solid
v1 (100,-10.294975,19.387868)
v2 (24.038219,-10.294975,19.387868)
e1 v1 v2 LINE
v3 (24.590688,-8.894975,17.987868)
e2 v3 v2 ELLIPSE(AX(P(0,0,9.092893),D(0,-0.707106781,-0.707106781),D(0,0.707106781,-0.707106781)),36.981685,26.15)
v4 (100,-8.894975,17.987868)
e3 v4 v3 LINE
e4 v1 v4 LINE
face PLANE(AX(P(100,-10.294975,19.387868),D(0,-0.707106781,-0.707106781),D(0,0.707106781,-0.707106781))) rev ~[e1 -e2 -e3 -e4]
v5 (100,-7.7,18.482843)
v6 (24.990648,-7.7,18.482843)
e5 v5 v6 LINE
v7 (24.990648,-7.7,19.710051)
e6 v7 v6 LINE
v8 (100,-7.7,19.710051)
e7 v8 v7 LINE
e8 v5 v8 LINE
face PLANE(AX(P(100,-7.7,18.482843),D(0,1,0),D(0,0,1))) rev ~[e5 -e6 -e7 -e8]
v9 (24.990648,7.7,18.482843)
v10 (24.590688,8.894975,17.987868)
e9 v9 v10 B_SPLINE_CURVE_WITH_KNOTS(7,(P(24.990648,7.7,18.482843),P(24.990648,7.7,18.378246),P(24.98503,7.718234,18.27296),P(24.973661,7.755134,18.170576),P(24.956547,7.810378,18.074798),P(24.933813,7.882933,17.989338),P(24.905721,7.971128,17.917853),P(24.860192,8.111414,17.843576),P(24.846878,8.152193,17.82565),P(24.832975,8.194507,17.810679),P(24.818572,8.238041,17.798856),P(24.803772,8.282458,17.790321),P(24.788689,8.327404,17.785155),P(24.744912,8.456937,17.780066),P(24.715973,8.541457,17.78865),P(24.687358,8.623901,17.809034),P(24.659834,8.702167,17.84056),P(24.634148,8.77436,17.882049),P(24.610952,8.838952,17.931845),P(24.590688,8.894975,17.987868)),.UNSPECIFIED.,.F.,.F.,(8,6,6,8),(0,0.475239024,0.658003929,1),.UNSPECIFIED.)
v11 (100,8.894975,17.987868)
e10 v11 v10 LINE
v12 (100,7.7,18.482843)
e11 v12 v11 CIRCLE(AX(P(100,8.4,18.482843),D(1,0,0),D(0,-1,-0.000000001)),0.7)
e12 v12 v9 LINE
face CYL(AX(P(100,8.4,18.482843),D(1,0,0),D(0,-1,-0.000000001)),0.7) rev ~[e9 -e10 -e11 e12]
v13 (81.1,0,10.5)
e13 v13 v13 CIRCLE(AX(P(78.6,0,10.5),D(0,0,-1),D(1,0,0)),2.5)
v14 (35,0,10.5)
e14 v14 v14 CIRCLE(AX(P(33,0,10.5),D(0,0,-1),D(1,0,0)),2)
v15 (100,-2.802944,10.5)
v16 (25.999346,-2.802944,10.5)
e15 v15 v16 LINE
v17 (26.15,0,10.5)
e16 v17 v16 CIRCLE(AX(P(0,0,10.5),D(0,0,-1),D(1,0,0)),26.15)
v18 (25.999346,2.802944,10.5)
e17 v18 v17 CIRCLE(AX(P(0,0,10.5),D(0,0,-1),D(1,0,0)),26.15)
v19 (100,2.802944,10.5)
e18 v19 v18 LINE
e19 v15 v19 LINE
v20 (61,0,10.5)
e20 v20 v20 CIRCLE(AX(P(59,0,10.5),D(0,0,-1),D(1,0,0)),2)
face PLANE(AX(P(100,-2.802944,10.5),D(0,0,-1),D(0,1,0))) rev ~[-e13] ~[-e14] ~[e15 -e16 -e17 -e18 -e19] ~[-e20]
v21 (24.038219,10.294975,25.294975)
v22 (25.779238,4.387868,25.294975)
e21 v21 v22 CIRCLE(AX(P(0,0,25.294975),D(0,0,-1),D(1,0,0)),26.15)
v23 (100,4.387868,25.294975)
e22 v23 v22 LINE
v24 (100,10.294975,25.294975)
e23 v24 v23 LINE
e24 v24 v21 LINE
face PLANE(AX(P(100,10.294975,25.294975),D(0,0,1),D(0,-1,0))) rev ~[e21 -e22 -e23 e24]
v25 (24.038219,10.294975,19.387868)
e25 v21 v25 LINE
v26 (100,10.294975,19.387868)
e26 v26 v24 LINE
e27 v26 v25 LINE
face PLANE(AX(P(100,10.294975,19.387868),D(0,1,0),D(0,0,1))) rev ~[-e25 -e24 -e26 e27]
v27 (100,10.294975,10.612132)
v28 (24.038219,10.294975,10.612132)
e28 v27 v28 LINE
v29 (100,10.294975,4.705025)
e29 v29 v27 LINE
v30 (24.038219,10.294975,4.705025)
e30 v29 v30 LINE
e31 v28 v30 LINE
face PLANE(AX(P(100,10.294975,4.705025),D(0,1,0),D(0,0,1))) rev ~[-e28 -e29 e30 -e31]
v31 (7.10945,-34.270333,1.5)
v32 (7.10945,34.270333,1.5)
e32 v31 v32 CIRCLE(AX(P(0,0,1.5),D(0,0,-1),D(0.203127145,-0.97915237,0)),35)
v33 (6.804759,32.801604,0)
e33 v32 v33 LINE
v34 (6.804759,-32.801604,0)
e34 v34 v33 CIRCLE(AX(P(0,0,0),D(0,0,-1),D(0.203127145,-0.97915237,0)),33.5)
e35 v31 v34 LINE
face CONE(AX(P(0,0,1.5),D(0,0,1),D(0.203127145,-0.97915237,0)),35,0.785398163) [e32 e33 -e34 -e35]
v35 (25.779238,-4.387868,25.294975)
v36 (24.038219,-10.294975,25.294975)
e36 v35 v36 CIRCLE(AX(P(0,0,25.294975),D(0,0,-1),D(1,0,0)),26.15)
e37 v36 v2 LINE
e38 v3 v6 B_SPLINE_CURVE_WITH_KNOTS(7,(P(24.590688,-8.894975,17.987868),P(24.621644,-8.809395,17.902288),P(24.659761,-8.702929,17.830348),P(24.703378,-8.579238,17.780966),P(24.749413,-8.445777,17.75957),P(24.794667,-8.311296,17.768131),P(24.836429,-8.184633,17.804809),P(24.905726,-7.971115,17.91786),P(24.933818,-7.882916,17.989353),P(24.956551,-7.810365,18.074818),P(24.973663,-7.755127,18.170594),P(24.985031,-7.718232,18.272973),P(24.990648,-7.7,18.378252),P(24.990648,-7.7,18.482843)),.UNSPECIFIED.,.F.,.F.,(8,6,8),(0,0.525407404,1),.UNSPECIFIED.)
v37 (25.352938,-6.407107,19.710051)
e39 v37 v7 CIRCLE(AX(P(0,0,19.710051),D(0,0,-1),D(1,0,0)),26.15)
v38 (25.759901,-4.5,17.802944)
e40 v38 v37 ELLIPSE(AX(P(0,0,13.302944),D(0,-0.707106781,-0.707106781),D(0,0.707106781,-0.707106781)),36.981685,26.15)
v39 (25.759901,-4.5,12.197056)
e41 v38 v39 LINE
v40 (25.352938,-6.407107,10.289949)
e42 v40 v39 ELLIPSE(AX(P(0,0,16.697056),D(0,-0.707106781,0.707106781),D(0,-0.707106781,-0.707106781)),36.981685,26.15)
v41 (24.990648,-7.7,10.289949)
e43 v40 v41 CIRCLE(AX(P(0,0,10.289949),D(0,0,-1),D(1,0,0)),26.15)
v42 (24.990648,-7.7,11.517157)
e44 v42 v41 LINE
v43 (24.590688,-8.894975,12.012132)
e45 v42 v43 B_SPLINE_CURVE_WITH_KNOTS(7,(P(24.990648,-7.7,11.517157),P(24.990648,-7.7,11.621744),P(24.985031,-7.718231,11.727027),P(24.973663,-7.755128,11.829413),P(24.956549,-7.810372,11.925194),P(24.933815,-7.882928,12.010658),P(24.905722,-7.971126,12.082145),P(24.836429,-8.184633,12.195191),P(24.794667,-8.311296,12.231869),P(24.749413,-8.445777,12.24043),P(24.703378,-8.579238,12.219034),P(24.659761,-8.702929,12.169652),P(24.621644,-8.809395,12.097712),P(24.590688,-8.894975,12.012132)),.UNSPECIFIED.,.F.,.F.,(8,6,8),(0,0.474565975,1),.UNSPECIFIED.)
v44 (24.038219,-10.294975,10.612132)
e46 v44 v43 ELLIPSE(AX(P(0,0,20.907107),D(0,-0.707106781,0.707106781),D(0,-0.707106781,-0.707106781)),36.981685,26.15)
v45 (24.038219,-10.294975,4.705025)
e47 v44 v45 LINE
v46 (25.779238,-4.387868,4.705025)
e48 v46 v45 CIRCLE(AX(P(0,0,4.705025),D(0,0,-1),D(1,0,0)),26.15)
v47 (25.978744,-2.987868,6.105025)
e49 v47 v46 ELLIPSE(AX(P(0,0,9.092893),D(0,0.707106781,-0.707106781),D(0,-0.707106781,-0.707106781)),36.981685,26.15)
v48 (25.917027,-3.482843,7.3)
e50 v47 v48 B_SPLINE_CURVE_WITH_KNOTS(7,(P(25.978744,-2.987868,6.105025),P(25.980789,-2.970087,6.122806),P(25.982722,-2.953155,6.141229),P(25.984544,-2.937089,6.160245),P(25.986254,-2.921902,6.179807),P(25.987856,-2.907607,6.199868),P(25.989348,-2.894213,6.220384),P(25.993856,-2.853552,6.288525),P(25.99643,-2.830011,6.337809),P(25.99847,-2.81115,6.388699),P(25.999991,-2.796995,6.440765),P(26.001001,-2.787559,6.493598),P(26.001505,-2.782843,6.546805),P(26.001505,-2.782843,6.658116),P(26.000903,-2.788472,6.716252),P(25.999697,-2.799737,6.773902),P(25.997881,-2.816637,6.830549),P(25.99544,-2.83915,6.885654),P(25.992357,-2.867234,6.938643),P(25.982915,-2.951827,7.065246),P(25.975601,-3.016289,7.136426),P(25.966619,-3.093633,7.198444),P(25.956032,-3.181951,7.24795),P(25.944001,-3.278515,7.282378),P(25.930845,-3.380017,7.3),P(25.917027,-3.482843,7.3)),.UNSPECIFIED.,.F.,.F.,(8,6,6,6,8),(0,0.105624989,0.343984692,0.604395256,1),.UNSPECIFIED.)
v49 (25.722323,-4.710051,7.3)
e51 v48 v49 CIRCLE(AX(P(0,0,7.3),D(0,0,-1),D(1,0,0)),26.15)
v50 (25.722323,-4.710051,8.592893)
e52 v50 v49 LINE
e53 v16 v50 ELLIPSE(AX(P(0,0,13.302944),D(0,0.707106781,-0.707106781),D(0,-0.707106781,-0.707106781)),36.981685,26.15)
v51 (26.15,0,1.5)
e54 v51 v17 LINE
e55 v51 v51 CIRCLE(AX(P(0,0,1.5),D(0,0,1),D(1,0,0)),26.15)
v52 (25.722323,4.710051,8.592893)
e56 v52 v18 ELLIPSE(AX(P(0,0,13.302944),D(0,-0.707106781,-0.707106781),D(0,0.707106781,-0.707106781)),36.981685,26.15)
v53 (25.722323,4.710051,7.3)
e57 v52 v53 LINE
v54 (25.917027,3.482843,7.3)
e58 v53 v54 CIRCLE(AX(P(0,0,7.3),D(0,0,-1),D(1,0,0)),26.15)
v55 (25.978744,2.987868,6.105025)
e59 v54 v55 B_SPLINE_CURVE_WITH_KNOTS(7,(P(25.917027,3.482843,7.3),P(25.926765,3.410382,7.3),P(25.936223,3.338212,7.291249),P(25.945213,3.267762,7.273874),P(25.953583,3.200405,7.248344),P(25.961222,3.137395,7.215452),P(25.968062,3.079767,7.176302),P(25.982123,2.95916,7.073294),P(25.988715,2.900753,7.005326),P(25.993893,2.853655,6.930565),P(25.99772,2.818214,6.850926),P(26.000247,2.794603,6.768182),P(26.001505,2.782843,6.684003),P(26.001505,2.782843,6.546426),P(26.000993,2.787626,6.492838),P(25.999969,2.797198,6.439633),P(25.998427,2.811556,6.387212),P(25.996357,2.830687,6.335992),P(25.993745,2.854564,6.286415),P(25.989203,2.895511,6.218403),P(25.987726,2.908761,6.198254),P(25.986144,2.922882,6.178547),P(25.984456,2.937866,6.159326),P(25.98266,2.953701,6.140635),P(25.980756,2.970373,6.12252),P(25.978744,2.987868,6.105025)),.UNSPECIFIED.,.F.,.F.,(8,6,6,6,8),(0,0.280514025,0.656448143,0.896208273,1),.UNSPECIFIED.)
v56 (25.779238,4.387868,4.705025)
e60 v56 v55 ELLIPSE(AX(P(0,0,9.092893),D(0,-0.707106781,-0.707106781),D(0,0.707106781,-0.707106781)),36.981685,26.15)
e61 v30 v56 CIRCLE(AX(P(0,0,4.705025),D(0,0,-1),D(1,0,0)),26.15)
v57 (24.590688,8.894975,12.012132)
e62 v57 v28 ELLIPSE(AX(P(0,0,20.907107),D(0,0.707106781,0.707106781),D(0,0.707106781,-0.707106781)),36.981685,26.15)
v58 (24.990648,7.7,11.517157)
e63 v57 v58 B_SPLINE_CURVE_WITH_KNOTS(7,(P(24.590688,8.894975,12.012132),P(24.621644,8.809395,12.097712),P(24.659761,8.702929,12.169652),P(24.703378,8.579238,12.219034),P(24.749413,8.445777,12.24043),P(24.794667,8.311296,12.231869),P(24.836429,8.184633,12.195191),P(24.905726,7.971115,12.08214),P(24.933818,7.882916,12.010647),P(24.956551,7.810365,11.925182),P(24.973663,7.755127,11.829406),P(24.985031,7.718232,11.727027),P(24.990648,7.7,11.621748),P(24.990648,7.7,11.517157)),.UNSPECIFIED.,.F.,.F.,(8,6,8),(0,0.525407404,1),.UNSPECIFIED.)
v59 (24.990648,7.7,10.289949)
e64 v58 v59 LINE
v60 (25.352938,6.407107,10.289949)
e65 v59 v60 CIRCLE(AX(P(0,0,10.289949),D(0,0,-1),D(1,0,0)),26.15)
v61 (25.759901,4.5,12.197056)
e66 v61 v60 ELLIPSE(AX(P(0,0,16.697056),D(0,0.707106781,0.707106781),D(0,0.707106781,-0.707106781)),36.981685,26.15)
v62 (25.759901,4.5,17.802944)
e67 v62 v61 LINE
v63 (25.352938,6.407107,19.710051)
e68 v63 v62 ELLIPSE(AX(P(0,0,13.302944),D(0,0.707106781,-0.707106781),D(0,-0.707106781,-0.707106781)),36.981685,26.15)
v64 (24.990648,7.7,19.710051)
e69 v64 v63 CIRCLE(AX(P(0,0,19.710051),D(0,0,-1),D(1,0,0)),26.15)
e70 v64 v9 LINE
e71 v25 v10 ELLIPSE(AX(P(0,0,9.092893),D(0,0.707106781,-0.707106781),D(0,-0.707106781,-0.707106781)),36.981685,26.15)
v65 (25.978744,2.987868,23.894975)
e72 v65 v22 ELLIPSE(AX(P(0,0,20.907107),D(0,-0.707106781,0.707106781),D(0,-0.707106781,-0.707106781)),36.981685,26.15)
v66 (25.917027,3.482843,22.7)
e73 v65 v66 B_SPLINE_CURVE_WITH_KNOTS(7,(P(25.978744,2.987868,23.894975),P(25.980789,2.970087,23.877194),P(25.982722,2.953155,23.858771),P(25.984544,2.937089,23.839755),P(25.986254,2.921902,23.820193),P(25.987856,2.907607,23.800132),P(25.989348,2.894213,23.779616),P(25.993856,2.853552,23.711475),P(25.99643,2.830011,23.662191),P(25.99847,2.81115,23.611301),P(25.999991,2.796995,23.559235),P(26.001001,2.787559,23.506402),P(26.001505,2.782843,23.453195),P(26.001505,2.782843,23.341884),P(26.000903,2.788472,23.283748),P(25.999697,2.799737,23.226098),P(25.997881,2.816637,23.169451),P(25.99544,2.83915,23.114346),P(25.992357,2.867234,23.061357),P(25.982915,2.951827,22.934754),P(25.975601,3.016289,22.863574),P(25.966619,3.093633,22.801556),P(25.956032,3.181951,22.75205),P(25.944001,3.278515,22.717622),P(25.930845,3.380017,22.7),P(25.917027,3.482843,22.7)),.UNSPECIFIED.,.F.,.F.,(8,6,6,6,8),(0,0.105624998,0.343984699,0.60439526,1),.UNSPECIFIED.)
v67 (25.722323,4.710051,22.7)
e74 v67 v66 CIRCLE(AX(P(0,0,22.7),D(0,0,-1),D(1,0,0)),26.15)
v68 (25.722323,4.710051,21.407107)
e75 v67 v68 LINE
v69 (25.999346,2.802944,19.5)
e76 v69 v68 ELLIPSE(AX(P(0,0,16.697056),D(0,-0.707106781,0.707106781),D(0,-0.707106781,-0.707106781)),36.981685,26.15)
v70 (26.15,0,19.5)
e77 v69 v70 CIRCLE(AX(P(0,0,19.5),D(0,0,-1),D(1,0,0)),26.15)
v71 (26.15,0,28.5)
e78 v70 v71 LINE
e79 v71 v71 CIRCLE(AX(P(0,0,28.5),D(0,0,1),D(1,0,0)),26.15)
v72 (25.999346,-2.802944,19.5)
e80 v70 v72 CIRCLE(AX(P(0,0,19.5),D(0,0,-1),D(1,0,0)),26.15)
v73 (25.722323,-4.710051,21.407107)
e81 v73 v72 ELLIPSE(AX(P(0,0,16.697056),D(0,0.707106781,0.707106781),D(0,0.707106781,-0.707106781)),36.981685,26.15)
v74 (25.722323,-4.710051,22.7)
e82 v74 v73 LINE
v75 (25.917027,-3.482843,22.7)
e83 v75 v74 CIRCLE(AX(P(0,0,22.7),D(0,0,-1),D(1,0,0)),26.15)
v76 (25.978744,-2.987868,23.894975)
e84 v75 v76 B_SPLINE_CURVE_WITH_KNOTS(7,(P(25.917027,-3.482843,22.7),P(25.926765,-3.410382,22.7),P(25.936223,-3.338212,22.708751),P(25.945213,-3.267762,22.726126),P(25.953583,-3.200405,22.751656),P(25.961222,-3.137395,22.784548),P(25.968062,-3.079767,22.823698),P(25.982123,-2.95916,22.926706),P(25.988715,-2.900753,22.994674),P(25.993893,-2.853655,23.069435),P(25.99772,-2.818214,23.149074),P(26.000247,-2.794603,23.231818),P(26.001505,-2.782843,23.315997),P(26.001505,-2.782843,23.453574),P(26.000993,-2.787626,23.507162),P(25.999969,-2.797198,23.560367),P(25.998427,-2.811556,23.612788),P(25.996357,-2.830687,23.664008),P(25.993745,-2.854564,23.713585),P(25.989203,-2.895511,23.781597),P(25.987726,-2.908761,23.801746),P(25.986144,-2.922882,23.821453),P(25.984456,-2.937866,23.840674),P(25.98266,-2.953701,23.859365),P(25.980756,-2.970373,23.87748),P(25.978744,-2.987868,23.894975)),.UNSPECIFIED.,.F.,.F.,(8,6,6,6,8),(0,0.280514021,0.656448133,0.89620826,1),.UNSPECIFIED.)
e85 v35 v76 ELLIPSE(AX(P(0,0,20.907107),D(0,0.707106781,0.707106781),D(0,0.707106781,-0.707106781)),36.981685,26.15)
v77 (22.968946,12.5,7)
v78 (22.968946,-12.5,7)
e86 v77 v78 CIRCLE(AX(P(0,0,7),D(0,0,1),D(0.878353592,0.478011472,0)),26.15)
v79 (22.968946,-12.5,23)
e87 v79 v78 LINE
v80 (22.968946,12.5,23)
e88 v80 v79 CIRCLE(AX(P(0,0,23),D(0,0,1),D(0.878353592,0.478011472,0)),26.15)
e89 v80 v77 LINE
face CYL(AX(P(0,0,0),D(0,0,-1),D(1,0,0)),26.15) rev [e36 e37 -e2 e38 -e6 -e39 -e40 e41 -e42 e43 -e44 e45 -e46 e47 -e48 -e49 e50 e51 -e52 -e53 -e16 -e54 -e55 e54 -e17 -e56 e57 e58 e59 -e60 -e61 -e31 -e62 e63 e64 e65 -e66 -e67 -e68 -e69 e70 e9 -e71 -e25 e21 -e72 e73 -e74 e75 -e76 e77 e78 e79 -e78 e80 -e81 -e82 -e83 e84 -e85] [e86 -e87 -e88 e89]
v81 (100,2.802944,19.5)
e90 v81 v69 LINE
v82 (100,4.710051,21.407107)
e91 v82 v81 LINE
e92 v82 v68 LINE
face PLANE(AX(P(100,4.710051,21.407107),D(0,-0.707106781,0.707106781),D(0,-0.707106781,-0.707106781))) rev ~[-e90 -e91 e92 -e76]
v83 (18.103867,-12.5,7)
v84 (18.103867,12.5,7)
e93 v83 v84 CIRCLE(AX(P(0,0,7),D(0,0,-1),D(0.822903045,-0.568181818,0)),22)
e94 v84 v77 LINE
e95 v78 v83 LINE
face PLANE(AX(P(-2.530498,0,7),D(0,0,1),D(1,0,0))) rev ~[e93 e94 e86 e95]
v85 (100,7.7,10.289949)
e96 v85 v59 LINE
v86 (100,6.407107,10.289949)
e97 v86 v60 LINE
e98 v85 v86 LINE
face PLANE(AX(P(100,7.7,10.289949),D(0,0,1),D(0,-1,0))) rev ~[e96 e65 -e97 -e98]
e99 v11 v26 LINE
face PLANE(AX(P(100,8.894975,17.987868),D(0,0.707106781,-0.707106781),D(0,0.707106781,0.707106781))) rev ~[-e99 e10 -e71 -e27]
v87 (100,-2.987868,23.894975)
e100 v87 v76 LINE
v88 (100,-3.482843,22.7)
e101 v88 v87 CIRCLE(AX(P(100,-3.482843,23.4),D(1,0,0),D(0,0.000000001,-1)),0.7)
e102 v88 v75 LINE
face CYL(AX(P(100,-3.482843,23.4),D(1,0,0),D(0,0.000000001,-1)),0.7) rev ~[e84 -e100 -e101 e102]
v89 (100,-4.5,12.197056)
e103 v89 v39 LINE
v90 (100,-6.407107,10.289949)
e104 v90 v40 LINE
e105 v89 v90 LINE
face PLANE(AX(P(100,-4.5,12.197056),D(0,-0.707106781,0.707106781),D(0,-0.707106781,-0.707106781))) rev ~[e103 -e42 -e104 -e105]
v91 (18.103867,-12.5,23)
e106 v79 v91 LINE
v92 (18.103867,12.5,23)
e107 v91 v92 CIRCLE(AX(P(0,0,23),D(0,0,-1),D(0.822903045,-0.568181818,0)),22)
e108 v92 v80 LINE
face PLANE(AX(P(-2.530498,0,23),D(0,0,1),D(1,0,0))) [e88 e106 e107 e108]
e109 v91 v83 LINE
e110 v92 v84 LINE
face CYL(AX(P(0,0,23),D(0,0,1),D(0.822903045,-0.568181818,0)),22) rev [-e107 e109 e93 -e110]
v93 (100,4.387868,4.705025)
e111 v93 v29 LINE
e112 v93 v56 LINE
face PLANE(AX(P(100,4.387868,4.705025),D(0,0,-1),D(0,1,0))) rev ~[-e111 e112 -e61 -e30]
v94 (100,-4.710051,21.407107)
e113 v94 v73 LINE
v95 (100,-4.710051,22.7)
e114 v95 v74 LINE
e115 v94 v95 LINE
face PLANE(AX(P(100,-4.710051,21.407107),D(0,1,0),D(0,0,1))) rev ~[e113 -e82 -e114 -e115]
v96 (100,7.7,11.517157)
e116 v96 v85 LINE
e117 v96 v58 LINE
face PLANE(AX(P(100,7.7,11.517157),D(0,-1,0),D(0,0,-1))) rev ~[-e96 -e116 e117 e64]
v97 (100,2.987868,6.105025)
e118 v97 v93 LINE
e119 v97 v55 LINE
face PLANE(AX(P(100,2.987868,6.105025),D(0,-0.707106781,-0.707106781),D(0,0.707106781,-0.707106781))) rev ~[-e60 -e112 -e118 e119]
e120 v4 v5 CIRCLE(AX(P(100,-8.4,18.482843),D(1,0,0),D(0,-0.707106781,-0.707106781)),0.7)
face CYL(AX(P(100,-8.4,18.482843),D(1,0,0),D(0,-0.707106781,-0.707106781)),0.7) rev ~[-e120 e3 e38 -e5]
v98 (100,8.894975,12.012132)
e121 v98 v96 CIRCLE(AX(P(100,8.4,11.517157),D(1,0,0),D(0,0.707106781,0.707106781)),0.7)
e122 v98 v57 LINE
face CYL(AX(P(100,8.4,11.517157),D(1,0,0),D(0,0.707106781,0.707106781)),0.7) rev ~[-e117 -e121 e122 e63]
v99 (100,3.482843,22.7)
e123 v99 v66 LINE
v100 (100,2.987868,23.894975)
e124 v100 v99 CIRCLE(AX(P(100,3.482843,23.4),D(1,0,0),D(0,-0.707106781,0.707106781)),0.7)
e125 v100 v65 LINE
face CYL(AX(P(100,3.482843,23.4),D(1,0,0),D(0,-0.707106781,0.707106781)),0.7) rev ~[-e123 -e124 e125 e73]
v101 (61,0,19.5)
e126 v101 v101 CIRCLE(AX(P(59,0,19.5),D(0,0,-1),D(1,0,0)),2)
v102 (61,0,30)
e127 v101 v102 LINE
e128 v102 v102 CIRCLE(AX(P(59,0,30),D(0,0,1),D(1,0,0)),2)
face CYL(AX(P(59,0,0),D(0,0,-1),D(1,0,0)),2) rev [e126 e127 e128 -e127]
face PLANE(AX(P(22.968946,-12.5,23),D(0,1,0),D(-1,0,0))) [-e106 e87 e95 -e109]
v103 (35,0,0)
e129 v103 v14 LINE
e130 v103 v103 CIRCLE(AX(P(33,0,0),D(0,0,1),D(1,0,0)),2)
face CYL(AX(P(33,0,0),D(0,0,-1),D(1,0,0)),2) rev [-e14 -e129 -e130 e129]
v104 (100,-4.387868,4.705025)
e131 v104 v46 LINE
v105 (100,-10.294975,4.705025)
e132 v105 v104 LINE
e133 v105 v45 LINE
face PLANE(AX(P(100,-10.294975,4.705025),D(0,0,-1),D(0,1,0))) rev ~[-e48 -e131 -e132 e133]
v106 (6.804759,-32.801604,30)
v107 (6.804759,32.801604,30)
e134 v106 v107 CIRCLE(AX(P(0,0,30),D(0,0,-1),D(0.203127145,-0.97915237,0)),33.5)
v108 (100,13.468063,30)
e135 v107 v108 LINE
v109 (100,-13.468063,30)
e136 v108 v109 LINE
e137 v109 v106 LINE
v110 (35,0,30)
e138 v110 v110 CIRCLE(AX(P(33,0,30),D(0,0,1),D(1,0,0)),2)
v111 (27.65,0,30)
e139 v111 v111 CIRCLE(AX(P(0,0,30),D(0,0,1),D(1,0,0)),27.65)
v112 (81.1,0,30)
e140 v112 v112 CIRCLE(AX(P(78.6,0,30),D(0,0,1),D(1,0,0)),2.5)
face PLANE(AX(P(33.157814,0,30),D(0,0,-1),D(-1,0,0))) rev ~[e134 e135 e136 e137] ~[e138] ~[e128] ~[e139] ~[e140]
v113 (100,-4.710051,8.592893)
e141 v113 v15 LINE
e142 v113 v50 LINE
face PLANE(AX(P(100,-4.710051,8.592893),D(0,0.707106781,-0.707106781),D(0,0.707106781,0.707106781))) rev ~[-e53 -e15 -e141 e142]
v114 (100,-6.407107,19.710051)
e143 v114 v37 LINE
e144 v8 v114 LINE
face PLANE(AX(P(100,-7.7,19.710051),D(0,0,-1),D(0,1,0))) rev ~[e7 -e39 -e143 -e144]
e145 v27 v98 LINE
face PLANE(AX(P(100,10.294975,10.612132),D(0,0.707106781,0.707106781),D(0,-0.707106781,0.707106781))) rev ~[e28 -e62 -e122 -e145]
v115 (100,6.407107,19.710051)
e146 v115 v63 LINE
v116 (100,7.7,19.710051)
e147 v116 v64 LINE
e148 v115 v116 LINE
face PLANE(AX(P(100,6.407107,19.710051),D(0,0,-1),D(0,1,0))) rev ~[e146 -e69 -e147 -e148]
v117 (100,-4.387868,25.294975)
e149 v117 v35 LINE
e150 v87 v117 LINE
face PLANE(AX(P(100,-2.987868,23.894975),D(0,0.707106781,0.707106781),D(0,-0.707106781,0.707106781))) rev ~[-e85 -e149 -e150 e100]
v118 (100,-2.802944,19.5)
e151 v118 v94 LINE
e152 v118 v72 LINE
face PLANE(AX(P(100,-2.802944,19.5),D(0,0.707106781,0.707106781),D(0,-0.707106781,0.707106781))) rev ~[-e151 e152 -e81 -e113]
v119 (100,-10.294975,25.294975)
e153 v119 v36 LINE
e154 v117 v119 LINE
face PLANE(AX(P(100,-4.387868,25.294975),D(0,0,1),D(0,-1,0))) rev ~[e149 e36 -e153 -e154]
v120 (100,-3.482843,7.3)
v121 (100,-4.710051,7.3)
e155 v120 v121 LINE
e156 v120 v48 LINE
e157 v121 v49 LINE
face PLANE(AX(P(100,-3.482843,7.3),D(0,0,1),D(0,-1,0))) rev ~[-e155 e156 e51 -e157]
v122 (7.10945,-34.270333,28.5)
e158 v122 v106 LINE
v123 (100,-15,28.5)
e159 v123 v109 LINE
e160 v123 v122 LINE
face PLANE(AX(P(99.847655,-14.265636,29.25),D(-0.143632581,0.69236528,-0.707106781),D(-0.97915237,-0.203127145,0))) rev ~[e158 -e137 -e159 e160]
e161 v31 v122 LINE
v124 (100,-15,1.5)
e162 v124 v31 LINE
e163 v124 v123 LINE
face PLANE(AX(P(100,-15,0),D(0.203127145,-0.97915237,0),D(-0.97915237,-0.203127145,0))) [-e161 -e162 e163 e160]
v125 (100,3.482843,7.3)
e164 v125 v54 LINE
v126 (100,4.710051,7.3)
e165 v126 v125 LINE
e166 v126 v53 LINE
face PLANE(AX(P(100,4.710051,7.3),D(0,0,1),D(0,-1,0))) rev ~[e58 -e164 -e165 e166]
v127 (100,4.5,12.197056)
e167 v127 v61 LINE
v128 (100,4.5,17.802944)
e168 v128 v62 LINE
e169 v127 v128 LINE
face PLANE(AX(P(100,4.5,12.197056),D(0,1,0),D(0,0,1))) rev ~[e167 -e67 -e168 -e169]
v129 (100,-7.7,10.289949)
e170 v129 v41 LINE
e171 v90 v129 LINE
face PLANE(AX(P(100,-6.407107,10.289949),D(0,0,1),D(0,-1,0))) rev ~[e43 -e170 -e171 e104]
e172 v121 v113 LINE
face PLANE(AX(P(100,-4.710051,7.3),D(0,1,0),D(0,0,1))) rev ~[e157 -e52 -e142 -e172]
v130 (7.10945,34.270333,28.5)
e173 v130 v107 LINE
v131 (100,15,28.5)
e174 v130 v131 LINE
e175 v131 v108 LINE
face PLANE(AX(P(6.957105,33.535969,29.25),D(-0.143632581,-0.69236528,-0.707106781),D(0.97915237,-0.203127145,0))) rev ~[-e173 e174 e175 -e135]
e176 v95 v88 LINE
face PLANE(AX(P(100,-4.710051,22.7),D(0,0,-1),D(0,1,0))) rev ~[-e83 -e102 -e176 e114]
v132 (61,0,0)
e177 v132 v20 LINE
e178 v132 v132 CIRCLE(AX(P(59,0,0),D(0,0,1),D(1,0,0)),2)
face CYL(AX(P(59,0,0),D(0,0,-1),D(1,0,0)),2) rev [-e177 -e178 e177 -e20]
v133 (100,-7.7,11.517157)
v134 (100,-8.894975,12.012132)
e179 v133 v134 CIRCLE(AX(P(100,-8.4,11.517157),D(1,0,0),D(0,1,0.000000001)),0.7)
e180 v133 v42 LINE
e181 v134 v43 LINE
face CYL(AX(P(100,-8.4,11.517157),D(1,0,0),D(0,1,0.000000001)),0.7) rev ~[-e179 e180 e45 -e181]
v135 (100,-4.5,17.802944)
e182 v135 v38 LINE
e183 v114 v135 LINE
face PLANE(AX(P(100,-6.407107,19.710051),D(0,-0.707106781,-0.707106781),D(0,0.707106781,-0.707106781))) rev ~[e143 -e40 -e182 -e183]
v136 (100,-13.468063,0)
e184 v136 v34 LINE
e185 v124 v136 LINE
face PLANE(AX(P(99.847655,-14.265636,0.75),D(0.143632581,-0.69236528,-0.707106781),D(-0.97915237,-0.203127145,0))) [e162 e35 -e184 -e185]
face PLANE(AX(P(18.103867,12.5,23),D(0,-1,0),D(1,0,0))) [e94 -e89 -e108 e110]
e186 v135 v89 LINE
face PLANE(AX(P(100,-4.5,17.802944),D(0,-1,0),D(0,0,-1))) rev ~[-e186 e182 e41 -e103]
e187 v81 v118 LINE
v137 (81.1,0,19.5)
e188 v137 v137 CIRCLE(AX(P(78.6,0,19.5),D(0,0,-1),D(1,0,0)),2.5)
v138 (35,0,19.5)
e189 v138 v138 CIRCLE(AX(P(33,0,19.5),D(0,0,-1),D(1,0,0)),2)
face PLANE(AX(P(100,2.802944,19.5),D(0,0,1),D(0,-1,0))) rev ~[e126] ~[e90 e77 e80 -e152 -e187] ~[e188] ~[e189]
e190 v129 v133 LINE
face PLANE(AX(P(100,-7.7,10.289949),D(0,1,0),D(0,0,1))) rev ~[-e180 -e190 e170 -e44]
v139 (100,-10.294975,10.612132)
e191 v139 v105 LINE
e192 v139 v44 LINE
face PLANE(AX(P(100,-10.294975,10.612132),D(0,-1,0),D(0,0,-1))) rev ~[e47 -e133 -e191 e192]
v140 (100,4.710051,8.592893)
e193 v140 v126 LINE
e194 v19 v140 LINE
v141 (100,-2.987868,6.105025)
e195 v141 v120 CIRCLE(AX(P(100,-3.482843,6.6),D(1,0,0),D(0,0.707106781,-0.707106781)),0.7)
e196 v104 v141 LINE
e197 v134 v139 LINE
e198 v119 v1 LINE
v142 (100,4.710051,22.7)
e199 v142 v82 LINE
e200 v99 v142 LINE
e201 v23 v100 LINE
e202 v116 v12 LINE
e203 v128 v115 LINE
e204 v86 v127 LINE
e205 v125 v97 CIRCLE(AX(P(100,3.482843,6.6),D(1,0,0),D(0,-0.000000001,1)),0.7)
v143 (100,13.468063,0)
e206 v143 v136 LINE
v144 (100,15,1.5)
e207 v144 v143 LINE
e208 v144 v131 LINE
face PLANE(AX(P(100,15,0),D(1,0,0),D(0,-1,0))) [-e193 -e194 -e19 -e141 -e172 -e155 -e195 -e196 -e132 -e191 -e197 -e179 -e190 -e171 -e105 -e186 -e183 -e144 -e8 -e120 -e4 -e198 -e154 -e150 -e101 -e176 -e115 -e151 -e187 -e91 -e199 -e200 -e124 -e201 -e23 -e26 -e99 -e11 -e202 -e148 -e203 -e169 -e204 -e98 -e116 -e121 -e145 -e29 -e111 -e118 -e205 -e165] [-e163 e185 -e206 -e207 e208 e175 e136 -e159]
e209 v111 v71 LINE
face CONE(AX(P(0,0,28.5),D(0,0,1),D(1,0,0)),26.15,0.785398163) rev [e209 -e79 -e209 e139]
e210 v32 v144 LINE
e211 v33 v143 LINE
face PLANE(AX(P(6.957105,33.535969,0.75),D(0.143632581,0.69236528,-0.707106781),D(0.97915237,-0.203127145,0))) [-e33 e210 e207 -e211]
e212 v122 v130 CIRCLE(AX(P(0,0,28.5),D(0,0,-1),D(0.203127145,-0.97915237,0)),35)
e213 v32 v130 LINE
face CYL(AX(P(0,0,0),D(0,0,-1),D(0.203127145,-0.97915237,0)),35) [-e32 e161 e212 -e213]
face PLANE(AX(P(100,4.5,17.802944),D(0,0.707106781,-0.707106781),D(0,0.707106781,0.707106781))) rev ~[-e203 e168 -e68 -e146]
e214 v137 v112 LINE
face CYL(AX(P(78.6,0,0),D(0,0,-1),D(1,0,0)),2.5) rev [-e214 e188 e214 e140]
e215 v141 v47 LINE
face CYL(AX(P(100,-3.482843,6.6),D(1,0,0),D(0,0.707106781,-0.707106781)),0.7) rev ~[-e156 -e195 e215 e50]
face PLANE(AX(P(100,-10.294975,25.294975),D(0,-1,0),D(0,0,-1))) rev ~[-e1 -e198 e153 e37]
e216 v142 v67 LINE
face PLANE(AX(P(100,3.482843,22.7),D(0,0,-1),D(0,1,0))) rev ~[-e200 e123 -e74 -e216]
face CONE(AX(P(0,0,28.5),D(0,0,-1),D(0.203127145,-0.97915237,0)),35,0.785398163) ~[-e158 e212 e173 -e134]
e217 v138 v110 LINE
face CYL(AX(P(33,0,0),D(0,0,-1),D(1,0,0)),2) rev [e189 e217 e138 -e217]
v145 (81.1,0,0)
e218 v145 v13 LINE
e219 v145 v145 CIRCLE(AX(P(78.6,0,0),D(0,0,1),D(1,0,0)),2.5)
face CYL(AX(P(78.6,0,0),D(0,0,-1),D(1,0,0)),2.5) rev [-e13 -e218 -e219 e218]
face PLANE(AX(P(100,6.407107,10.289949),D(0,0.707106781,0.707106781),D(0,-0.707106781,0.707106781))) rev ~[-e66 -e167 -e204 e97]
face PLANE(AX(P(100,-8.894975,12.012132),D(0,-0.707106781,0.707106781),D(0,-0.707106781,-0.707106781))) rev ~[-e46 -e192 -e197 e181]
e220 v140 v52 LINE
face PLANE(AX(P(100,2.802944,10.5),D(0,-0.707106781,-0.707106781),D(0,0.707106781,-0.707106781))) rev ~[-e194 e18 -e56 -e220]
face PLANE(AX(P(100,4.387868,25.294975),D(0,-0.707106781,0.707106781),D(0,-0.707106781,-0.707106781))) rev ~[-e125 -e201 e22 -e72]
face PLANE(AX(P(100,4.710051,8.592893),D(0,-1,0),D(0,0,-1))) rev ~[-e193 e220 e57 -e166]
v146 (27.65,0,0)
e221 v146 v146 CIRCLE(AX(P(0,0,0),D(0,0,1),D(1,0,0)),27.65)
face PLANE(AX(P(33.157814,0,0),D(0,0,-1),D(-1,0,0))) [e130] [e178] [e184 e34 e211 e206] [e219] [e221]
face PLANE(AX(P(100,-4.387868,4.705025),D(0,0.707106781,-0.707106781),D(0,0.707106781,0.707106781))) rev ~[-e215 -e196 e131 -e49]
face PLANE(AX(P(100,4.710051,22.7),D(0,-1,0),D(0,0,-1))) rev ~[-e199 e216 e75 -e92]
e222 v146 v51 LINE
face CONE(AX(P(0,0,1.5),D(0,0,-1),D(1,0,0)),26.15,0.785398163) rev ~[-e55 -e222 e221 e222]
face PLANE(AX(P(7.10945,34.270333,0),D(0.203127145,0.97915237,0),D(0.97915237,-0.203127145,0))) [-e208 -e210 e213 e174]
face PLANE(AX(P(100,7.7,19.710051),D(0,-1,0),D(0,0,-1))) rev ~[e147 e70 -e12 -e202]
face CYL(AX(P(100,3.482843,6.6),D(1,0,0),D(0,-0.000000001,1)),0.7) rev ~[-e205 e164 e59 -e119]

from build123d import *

# Parameters (mm, degrees)
SKETCH1_R           = 26.15
SKETCH1_R_2         = 2
SKETCH1_R_3         = 2.5
BOSS_EXTRUDE1_DEPTH = 30
BOSS_EXTRUDE2_START = -7
BOSS_EXTRUDE2_DEPTH = 16
CHAMFER1_SIZE       = 1.5
CUT_EXTRUDE1_DEPTH  = 90


with BuildPart() as part:
    # Sketch1 → Boss-Extrude1 (new body)
    with BuildSketch(Plane.XY):
        with BuildLine():
            Line((100, 15), (100, -15))
            Line((100, -15), (7.109450059, -34.270332941))
            ThreePointArc((7.109450059, -34.270332941), (-35, 0), (7.109450059, 34.270332941))
            Line((7.109450059, 34.270332941), (100, 15))
        make_face()
        Circle(SKETCH1_R, mode=Mode.SUBTRACT)
        with Locations((59, 0)):
            Circle(SKETCH1_R_2, mode=Mode.SUBTRACT)
        with Locations((78.6, 0)):
            Circle(SKETCH1_R_3, mode=Mode.SUBTRACT)
        with Locations((33, 0)):
            Circle(SKETCH1_R_2, mode=Mode.SUBTRACT)
    extrude(amount=BOSS_EXTRUDE1_DEPTH)

    # Sketch2 → Boss-Extrude2 (add)
    with BuildSketch(Plane.XY.offset(30).offset(BOSS_EXTRUDE2_START)):
        with BuildLine():
            Line((18.10386699, 12.5), (22.968946428, 12.5))
            ThreePointArc((22.968946428, 12.5), (-26.15, 0), (22.968946428, -12.5))
            Line((22.968946428, -12.5), (18.10386699, -12.5))
            ThreePointArc((18.10386699, -12.5), (-22, 0), (18.10386699, 12.5))
        make_face()
    extrude(amount=-BOSS_EXTRUDE2_DEPTH)

    # Chamfer1
    chamfer1_edges = [part.edges().sort_by_distance(p)[0] for p in [
        (-26.15, 0, 0),
        (-26.15, 0, 30),
        (53.554725029, -24.63516647, 30),
        (53.554725029, 24.63516647, 30),
        (53.554725029, -24.63516647, 0),
        (-35, 0, 0),
        (53.554725029, 24.63516647, 0),
        (-35, 0, 30),
    ]]
    chamfer(chamfer1_edges, length=CHAMFER1_SIZE)

    # Sketch3 → Cut-Extrude1 (cut)
    with BuildSketch(Plane(origin=(100, 0, 0), x_dir=(0, 0, -1), z_dir=(1, 0, 0))):
        with BuildLine():
            Line((-12.197056275, 4.5), (-17.802943725, 4.5))
            Line((-17.802943725, 4.5), (-19.710050506, 6.407106781))
            Line((-19.710050506, 6.407106781), (-19.710050506, 7.7))
            Line((-19.710050506, 7.7), (-18.482842712, 7.7))
            ThreePointArc((-18.482842712, 7.7), (-17.83612704, 8.132121597), (-17.987867966, 8.894974747))
            Line((-17.987867966, 8.894974747), (-19.387867966, 10.294974747))
            Line((-19.387867966, 10.294974747), (-25.294974747, 10.294974747))
            Line((-25.294974747, 10.294974747), (-25.294974747, 4.387867966))
            Line((-25.294974747, 4.387867966), (-23.894974747, 2.987867966))
            ThreePointArc((-23.894974747, 2.987867966), (-23.132121597, 2.83612704), (-22.7, 3.482842712))
            Line((-22.7, 3.482842712), (-22.7, 4.710050506))
            Line((-22.7, 4.710050506), (-21.407106781, 4.710050506))
            Line((-21.407106781, 4.710050506), (-19.5, 2.802943725))
            Line((-19.5, 2.802943725), (-19.5, -2.802943725))
            Line((-19.5, -2.802943725), (-21.407106781, -4.710050506))
            Line((-21.407106781, -4.710050506), (-22.7, -4.710050506))
            Line((-22.7, -4.710050506), (-22.7, -3.482842712))
            ThreePointArc((-22.7, -3.482842712), (-23.132121597, -2.83612704), (-23.894974747, -2.987867966))
            Line((-23.894974747, -2.987867966), (-25.294974747, -4.387867966))
            Line((-25.294974747, -4.387867966), (-25.294974747, -10.294974747))
            Line((-25.294974747, -10.294974747), (-19.387867966, -10.294974747))
            Line((-19.387867966, -10.294974747), (-17.987867966, -8.894974747))
            ThreePointArc((-17.987867966, -8.894974747), (-17.83612704, -8.132121597), (-18.482842712, -7.7))
            Line((-18.482842712, -7.7), (-19.710050506, -7.7))
            Line((-19.710050506, -7.7), (-19.710050506, -6.407106781))
            Line((-19.710050506, -6.407106781), (-17.802943725, -4.5))
            Line((-17.802943725, -4.5), (-12.197056275, -4.5))
            Line((-12.197056275, -4.5), (-10.289949494, -6.407106781))
            Line((-10.289949494, -6.407106781), (-10.289949494, -7.7))
            Line((-10.289949494, -7.7), (-11.517157288, -7.7))
            ThreePointArc((-11.517157288, -7.7), (-12.16387296, -8.132121597), (-12.012132034, -8.894974747))
            Line((-12.012132034, -8.894974747), (-10.612132034, -10.294974747))
            Line((-10.612132034, -10.294974747), (-4.705025253, -10.294974747))
            Line((-4.705025253, -10.294974747), (-4.705025253, -4.387867966))
            Line((-4.705025253, -4.387867966), (-6.105025253, -2.987867966))
            ThreePointArc((-6.105025253, -2.987867966), (-6.867878403, -2.83612704), (-7.3, -3.482842712))
            Line((-7.3, -3.482842712), (-7.3, -4.710050506))
            Line((-7.3, -4.710050506), (-8.592893219, -4.710050506))
            Line((-8.592893219, -4.710050506), (-10.5, -2.802943725))
            Line((-10.5, -2.802943725), (-10.5, 2.802943725))
            Line((-10.5, 2.802943725), (-8.592893219, 4.710050506))
            Line((-8.592893219, 4.710050506), (-7.3, 4.710050506))
            Line((-7.3, 4.710050506), (-7.3, 3.482842712))
            ThreePointArc((-7.3, 3.482842712), (-6.867878403, 2.83612704), (-6.105025253, 2.987867966))
            Line((-6.105025253, 2.987867966), (-4.705025253, 4.387867966))
            Line((-4.705025253, 4.387867966), (-4.705025253, 10.294974747))
            Line((-4.705025253, 10.294974747), (-10.612132034, 10.294974747))
            Line((-10.612132034, 10.294974747), (-12.012132034, 8.894974747))
            ThreePointArc((-12.012132034, 8.894974747), (-12.16387296, 8.132121597), (-11.517157288, 7.7))
            Line((-11.517157288, 7.7), (-10.289949494, 7.7))
            Line((-10.289949494, 7.7), (-10.289949494, 6.407106781))
            Line((-10.289949494, 6.407106781), (-12.197056275, 4.5))
        make_face()
    extrude(amount=-CUT_EXTRUDE1_DEPTH, mode=Mode.SUBTRACT)


solid = part.part
